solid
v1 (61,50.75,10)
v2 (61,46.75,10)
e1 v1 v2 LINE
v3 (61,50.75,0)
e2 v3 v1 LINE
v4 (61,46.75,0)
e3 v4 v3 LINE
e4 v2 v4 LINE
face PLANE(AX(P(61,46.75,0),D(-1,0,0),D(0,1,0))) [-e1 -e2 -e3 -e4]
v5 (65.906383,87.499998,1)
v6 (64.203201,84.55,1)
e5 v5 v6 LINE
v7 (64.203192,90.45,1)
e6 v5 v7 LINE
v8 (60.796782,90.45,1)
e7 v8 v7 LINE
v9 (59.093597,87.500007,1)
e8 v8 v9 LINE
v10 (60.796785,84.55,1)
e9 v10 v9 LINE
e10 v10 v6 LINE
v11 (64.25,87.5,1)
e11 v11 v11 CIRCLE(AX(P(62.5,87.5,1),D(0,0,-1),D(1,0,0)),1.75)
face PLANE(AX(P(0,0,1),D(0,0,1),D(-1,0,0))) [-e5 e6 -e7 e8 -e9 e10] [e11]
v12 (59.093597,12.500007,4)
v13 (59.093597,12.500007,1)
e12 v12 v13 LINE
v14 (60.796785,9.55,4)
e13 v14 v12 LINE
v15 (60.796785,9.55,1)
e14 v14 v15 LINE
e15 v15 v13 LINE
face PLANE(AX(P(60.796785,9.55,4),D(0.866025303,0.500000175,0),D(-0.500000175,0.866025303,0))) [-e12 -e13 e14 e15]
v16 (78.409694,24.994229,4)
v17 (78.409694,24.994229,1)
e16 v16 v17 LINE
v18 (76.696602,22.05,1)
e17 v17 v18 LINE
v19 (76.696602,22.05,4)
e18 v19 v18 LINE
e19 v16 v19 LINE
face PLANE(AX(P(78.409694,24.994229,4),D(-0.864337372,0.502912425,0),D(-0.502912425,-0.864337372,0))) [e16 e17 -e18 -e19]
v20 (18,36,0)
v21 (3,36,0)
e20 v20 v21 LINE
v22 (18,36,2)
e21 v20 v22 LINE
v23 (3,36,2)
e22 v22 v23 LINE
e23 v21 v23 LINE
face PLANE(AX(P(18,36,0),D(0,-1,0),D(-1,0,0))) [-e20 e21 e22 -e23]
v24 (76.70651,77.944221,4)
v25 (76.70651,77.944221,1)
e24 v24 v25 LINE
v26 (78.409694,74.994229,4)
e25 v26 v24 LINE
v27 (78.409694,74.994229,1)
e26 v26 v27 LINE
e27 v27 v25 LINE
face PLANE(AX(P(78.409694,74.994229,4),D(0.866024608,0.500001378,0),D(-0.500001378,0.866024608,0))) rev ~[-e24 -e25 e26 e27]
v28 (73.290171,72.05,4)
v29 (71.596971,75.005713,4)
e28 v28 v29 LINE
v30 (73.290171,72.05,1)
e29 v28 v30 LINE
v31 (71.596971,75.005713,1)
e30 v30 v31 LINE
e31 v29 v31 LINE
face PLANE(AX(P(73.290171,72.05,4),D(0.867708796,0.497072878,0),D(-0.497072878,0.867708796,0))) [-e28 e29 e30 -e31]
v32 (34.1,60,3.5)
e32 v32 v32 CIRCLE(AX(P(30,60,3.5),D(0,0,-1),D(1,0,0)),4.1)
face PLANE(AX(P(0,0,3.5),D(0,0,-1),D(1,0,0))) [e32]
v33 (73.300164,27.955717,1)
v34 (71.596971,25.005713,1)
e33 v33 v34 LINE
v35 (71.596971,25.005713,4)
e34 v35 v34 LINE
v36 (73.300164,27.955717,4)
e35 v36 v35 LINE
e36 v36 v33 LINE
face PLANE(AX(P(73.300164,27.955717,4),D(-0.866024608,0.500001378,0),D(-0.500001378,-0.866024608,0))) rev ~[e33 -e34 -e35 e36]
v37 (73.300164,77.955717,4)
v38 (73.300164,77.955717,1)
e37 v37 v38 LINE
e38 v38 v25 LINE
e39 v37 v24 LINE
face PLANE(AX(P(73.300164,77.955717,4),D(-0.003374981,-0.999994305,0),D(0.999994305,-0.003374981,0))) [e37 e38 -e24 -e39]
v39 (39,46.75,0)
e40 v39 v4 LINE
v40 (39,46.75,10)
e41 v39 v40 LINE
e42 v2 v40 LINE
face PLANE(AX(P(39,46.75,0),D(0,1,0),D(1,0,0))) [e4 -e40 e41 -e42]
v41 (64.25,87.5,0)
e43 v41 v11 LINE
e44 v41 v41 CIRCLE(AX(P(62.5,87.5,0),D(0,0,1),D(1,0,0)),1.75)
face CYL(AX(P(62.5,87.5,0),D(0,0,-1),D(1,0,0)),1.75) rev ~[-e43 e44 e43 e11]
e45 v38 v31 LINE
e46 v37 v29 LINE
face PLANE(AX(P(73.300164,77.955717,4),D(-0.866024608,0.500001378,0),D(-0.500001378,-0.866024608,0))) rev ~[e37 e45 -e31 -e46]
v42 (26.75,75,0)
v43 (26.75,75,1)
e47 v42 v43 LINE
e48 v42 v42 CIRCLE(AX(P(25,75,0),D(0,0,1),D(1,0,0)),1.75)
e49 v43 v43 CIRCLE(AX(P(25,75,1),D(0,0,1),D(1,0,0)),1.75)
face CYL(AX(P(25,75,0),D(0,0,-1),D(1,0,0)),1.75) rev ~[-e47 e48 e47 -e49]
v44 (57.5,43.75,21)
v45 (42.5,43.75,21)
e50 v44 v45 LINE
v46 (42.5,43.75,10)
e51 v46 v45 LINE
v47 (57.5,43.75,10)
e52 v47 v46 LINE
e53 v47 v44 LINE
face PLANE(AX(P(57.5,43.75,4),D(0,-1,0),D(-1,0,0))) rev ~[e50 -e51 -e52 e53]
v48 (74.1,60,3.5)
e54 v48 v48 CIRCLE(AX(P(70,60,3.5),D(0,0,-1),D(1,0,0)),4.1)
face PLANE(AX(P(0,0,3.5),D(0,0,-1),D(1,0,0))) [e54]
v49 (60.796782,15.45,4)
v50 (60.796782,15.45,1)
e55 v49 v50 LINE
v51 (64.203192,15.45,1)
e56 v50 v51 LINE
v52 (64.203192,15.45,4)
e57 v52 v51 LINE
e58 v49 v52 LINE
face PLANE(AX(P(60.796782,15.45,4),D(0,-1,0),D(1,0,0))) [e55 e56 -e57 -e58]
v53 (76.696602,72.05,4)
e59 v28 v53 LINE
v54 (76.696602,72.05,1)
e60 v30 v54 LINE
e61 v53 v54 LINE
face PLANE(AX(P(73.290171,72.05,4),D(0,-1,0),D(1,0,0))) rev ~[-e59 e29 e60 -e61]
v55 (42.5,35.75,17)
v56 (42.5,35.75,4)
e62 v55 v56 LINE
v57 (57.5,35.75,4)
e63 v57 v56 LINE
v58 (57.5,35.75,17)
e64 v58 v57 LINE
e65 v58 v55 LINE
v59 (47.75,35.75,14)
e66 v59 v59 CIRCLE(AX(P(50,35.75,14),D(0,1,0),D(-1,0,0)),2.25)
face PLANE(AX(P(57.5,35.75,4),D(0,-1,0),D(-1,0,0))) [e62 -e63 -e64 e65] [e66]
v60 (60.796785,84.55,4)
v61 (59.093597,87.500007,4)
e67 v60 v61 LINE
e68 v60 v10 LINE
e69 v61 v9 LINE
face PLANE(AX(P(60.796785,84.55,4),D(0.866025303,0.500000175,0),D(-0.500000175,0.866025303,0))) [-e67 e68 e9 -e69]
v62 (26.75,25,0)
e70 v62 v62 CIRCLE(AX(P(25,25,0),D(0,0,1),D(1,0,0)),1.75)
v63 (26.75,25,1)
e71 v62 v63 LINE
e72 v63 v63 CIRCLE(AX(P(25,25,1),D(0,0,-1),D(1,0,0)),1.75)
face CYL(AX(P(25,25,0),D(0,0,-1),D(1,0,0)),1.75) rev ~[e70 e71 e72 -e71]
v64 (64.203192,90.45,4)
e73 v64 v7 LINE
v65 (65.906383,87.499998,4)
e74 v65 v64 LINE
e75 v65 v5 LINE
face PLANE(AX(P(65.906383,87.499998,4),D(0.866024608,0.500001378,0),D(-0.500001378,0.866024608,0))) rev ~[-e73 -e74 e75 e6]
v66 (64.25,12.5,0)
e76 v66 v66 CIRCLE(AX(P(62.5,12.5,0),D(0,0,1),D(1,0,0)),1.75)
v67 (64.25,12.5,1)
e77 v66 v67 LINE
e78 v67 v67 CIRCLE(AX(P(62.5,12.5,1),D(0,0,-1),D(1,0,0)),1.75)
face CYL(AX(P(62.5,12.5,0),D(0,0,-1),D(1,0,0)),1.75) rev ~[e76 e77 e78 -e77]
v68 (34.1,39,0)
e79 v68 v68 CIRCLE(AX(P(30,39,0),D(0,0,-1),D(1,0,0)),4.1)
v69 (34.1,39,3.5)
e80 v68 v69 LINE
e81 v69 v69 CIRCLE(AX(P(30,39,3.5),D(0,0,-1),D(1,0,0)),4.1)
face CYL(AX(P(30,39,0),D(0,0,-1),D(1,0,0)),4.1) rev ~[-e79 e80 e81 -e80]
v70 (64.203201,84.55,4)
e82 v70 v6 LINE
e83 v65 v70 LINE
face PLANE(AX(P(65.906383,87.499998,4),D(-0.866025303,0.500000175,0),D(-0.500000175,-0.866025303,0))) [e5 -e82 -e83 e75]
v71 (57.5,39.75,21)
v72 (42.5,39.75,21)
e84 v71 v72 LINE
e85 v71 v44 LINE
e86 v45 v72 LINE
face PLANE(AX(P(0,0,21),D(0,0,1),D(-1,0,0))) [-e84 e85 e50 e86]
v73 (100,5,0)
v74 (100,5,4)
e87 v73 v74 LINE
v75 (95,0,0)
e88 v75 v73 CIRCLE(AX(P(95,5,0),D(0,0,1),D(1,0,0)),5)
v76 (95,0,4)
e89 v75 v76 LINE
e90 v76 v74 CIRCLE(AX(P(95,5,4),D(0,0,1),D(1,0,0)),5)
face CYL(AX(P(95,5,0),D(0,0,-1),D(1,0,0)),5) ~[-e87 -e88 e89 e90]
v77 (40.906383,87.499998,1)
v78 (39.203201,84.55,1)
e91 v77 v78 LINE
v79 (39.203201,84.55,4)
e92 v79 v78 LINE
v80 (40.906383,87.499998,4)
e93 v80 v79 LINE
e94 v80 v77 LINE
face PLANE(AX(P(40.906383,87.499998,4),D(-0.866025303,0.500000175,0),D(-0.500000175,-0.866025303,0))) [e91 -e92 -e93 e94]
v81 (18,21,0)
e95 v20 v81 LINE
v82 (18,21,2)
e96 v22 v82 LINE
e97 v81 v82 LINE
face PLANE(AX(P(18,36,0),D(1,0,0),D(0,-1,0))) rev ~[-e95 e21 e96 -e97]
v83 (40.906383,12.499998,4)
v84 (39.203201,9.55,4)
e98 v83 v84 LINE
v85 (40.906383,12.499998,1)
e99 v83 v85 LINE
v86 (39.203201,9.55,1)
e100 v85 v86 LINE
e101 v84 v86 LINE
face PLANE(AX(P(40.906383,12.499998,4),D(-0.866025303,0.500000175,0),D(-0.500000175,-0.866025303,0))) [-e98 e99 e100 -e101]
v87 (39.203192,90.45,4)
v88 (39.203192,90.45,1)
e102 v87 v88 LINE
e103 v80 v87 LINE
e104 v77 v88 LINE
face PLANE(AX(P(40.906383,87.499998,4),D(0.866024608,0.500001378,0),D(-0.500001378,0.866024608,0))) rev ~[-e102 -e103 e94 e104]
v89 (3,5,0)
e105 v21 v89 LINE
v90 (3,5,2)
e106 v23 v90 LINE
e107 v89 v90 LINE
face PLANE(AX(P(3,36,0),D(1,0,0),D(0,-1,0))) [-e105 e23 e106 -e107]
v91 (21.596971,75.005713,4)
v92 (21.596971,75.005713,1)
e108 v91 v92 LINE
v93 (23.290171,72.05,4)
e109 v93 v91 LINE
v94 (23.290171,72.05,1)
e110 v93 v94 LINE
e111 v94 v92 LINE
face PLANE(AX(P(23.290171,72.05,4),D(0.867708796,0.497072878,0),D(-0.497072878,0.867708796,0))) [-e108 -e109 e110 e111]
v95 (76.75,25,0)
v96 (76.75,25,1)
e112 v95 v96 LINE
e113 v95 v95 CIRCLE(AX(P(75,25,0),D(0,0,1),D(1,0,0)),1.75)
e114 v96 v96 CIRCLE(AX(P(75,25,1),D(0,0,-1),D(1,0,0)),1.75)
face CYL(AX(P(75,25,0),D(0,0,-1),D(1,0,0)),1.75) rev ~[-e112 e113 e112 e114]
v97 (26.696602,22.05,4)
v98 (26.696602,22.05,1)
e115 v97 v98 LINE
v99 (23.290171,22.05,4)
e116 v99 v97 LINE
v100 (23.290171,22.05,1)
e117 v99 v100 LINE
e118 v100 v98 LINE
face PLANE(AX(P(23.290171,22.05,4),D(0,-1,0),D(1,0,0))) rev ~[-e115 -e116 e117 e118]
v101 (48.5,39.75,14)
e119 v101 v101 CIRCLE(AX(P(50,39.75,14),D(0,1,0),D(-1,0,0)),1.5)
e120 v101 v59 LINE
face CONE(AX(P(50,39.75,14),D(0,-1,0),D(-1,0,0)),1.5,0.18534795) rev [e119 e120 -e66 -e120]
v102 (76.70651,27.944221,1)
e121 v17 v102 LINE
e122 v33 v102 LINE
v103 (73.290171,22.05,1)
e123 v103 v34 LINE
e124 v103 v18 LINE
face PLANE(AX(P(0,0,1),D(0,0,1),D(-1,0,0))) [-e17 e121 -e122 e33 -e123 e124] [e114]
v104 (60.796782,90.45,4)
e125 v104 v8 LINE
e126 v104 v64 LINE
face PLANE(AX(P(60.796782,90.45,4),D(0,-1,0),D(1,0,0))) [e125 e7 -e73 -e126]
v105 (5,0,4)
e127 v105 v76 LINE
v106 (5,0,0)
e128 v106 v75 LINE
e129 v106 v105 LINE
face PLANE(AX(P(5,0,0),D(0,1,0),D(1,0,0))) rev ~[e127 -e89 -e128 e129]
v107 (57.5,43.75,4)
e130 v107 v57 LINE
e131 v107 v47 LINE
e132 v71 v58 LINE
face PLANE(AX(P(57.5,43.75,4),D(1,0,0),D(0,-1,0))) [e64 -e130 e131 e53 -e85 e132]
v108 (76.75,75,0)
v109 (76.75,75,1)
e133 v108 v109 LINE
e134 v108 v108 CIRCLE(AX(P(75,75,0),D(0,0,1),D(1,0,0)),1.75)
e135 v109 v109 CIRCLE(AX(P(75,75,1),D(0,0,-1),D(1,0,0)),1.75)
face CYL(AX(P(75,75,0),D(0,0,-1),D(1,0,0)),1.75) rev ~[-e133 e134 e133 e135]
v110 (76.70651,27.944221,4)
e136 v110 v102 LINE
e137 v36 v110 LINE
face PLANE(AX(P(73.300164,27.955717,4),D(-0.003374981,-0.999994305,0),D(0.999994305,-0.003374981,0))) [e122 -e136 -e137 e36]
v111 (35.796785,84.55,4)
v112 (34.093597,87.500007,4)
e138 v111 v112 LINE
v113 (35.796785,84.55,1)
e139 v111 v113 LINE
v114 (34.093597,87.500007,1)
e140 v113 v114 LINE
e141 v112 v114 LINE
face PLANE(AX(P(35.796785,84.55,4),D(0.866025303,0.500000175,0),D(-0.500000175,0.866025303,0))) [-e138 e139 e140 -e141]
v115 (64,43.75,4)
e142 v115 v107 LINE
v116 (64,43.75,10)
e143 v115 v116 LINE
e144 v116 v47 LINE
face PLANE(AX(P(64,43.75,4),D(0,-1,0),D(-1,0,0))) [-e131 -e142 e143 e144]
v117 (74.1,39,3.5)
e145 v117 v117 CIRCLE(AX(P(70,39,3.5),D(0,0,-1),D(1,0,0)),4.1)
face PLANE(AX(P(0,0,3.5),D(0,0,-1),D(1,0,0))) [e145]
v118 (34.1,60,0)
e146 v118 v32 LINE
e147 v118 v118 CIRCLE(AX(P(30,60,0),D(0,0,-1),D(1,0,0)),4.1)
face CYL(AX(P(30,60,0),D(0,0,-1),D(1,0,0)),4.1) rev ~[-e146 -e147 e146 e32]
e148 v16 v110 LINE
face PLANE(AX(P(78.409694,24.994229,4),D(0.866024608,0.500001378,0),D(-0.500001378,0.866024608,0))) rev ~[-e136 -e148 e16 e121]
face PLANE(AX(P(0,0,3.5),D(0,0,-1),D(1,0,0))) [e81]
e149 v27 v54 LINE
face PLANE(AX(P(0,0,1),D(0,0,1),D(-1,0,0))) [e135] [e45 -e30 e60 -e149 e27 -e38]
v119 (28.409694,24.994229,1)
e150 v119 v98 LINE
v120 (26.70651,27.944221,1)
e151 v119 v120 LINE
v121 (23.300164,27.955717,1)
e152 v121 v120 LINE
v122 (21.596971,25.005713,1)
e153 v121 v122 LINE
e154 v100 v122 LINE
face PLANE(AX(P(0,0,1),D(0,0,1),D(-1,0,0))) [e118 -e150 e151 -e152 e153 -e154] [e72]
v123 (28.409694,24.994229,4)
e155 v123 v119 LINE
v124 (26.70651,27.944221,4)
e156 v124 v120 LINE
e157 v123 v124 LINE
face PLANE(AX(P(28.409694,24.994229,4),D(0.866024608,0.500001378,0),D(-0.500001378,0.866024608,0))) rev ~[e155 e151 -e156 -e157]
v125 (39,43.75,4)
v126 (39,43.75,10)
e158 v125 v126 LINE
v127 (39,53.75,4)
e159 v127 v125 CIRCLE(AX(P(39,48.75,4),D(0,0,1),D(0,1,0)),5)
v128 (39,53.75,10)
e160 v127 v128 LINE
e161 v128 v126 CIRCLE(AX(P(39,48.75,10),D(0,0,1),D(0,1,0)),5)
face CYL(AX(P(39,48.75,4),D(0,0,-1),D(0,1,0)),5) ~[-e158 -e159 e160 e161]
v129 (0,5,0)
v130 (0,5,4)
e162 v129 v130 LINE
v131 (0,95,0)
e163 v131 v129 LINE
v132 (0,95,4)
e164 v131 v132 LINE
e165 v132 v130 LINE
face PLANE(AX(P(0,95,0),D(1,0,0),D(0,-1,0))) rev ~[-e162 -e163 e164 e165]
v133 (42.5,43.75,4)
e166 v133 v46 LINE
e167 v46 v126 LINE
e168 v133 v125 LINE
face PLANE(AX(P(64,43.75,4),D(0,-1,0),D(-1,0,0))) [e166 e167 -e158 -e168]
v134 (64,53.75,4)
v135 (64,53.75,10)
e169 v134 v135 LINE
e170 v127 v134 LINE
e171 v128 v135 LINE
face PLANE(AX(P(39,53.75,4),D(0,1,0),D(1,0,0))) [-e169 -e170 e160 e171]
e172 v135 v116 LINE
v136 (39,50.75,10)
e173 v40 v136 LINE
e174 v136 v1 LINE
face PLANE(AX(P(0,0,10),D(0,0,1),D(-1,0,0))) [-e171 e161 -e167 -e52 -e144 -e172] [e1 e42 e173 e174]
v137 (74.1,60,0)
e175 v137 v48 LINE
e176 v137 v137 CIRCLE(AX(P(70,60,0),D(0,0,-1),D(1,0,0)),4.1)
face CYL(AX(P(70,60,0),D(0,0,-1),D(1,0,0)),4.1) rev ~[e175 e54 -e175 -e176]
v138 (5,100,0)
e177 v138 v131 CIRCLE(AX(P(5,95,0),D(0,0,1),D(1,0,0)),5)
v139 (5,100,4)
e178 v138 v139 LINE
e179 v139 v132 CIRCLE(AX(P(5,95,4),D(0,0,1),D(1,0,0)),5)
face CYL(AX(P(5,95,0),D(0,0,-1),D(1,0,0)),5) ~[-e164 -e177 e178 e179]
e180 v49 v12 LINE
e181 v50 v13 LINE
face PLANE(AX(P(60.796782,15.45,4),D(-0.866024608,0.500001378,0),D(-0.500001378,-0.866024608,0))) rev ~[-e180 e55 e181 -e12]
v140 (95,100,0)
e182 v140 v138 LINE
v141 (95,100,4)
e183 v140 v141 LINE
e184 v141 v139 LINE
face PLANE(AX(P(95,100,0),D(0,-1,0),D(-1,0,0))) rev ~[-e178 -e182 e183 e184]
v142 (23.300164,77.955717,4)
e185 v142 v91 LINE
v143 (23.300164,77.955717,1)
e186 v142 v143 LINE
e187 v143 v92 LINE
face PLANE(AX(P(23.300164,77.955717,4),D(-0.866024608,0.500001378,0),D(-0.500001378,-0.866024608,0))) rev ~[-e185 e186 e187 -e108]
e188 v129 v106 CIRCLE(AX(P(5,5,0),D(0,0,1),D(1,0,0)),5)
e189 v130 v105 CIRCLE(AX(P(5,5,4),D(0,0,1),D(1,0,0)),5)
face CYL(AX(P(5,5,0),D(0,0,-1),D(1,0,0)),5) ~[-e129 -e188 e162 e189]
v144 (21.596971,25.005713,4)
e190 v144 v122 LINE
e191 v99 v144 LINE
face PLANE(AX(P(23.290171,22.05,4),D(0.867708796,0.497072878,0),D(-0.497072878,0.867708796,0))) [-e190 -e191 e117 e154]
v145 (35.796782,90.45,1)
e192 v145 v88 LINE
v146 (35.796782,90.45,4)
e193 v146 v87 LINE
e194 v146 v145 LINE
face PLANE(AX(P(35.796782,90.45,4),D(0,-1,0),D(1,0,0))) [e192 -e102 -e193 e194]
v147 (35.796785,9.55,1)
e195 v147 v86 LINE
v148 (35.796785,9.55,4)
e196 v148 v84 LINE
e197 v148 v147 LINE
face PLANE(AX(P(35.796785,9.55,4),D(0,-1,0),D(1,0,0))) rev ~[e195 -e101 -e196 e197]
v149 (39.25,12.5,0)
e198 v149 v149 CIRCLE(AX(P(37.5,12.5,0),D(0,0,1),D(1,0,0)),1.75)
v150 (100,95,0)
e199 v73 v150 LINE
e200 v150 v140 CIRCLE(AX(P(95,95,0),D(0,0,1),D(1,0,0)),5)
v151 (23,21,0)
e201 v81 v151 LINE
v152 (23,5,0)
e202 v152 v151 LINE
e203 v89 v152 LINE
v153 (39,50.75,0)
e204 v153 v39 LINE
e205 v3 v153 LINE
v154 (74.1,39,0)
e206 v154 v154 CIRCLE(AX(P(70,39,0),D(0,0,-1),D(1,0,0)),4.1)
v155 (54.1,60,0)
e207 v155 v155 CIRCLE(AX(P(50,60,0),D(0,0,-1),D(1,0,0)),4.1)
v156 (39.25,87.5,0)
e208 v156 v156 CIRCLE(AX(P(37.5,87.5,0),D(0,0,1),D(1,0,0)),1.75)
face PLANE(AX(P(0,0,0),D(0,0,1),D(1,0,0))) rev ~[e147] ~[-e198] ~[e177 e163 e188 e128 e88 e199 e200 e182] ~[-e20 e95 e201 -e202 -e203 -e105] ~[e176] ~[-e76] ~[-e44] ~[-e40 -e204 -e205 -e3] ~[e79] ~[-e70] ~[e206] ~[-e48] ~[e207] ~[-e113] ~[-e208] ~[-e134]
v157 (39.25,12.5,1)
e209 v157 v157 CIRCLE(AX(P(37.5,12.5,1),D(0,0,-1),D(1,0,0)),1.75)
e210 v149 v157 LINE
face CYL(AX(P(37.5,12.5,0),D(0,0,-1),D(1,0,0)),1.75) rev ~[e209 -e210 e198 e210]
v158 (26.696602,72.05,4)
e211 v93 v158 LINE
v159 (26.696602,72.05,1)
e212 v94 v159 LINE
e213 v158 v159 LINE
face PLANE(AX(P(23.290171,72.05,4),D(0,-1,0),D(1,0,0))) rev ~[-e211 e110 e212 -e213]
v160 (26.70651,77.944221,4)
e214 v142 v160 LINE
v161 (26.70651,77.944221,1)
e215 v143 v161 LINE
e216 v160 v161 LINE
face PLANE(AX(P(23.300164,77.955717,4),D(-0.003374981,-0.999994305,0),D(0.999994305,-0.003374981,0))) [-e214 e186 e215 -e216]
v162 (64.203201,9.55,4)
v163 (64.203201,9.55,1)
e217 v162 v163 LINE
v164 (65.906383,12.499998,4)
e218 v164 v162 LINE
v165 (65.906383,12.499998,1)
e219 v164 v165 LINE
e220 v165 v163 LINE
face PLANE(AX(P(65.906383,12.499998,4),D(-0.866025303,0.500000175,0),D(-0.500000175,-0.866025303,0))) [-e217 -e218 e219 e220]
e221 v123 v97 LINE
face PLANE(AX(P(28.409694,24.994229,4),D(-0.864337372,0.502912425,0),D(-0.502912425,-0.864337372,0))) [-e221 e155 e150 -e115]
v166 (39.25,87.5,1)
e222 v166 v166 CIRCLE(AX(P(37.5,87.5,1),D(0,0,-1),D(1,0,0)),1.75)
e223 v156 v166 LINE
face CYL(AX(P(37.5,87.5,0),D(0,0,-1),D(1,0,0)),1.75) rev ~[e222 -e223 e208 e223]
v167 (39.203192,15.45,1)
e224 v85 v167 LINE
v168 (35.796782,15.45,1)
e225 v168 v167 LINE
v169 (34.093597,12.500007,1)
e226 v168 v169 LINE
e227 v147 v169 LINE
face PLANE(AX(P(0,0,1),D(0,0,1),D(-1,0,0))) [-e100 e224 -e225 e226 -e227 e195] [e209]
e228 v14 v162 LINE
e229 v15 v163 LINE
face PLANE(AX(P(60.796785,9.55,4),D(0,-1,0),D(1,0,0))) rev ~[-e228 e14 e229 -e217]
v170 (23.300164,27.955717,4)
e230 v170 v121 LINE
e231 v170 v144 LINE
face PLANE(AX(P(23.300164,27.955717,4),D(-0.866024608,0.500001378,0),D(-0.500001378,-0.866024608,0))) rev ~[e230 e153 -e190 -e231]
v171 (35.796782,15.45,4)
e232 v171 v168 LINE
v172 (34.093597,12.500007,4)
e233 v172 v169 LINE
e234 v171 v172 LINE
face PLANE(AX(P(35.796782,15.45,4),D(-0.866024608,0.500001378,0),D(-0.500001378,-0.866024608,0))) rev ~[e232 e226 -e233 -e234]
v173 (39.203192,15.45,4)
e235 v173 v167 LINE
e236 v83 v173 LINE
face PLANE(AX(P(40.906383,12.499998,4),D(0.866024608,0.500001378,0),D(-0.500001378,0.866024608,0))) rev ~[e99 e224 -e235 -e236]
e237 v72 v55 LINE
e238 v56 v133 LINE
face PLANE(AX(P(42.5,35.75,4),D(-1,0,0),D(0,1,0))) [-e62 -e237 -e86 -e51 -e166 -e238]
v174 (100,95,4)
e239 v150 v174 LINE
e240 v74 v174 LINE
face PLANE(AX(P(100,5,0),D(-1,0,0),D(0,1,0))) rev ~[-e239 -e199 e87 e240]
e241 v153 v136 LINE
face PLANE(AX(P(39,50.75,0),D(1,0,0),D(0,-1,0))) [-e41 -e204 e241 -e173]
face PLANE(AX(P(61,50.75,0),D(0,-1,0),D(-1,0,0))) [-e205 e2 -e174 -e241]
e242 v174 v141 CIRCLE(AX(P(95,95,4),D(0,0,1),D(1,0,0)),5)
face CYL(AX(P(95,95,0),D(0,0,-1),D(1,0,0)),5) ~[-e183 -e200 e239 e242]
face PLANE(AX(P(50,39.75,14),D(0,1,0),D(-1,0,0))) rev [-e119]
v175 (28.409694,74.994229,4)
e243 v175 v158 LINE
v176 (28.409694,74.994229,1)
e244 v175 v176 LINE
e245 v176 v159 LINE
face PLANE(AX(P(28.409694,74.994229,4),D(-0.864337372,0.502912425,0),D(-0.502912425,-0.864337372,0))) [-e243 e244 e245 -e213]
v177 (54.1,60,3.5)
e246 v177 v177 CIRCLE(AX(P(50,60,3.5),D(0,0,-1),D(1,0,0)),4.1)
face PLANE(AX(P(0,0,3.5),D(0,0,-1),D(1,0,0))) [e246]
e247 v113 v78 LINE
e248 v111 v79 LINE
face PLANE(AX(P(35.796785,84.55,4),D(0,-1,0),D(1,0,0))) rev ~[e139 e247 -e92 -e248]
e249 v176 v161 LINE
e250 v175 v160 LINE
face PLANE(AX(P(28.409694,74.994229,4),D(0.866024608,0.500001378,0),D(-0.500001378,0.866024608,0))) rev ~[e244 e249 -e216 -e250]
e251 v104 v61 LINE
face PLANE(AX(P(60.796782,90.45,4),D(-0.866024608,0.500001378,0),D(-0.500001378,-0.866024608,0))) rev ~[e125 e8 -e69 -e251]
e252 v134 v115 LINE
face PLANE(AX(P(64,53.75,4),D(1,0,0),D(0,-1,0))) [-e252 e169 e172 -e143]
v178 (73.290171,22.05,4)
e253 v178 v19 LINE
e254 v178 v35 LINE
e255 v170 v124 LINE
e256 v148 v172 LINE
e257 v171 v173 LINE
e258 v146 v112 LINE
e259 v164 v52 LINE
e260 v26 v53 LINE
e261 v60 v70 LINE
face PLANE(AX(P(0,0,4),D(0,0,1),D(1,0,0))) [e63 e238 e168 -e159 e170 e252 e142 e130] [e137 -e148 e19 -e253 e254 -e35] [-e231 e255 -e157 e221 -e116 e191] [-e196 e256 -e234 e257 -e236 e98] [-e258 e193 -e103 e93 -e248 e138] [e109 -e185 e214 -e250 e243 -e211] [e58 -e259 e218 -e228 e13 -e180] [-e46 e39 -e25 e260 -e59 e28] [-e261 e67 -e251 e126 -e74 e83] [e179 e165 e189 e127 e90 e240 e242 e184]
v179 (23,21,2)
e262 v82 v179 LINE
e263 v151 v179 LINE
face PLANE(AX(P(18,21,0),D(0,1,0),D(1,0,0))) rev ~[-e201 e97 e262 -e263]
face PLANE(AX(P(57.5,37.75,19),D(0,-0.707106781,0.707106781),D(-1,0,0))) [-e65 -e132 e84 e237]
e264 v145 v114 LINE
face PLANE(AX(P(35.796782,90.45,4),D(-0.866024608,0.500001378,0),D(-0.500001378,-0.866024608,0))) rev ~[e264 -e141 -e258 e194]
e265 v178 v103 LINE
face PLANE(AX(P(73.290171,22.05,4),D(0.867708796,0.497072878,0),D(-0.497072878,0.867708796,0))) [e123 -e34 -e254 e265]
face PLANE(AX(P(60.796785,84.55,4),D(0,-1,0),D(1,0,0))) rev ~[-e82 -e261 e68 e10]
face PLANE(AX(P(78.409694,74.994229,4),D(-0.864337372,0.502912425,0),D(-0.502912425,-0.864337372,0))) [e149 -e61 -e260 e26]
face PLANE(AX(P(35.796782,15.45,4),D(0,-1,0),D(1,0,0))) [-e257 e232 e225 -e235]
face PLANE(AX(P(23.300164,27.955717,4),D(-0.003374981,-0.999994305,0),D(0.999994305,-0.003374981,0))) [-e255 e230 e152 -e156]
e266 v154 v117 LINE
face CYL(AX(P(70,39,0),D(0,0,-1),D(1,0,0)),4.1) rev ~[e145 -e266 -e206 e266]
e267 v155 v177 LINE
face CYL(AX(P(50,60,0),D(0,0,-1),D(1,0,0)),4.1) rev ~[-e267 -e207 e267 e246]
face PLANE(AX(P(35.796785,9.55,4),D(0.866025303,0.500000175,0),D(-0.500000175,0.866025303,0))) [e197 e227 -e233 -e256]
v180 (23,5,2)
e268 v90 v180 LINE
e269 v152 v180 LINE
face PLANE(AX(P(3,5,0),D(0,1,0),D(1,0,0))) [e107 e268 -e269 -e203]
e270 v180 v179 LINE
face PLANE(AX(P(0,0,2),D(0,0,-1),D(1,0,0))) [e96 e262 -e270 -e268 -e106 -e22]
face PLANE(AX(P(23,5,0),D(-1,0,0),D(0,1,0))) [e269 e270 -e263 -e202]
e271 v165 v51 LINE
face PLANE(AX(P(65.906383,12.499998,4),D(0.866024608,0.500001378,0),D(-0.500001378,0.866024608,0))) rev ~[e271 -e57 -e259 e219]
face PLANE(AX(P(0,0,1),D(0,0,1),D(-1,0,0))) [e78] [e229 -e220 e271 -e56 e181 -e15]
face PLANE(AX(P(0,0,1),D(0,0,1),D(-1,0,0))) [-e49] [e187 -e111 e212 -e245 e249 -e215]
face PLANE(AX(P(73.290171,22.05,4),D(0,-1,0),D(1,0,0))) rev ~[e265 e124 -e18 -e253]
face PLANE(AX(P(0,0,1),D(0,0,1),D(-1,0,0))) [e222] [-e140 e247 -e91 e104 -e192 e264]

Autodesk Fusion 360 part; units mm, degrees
sketch "Skizze1" plane through (0, 0, 0) normal (0, 0, 1) x (1, 0, 0)
  line L0 (0, 0) -> (100, 0)
  line L1 (100, 0) -> (100, 100)
  line L2 (100, 100) -> (0, 100)
  line L3 (0, 100) -> (0, 0)
  circle A0 centre (5, 95) radius 5
  circle A1 centre (5, 5) radius 5
  circle A2 centre (95, 5) radius 5
  circle A3 centre (95, 95) radius 5
  line L4 (39, 46.75) -> (61, 46.75)
  line L5 (61, 46.75) -> (61, 50.75)
  line L6 (61, 50.75) -> (39, 50.75)
  line L7 (39, 50.75) -> (39, 46.75)
  line L8 (39, 48.75) -> (61, 48.75)
  line L9 (50, 50.75) -> (50, 46.75)
  dimension "d1" = 100
  dimension "d2" = 100
  dimension "d5" = 22
  dimension "d6" = 4
  dimension "d7" = 50
  dimension "d8" = 48.75
extrude "Extrusion1" add sketch "Skizze1" along normal blind 4 contours L0 L1 L2 L3 A0 A1 A2 A3 | A1 | A2 | A0 | A3
sketch "Skizze2" plane through (0, 0, 4) normal (0, 0, 1) x (-1, 0, 0)
  line L0 (-39, -46.75) -> (-39, -50.75)
  line L1 (-39, -50.75) -> (-61, -50.75)
  line L2 (-61, -50.75) -> (-61, -46.75)
  line L3 (-61, -46.75) -> (-39, -46.75)
  arc A0 (-100, -95) -> (-95, -100) centre (-95, -95) ccw
  line L4 (-95, -100) -> (-5, -100)
  arc A1 (-5, -100) -> (0, -95) centre (-5, -95) ccw
  line L5 (0, -95) -> (0, -5)
  arc A2 (0, -5) -> (-5, 0) centre (-5, -5) ccw
  line L6 (-5, 0) -> (-95, 0)
  arc A3 (-95, 0) -> (-100, -5) centre (-95, -5) ccw
  line L7 (-100, -5) -> (-100, -95)
  line L8 (-39, -53.75) -> (-64, -53.75)
  line L9 (-64, -53.75) -> (-64, -43.75)
  line L10 (-64, -43.75) -> (-39, -43.75)
  line L11 (-39, -43.75) -> (-39, -53.75)
  line L12 (-39, -48.75) -> (-42, -48.75)
  arc A4 (-39, -53.75) -> (-39, -43.75) centre (-39, -48.75) ccw
  dimension "d9" = 3
  dimension "d10" = 3
  dimension "d11" = 3
extrude "Extrusion2" add sketch "Skizze2" along normal blind 6 contours L0 L11 A4 | L1 L2 L3 L8 L9 L10 L11
sketch "Skizze3" plane through (0, 0, 0) normal (0, 0, -1) x (1, 0, 0)
  line L0 (39, -50.75) -> (39, -46.75)
  line L1 (39, -46.75) -> (61, -46.75)
  line L2 (61, -46.75) -> (61, -50.75)
  line L3 (61, -50.75) -> (39, -50.75)
  arc A0 (95, -100) -> (100, -95) centre (95, -95) ccw
  line L4 (100, -95) -> (100, -5)
  arc A1 (100, -5) -> (95, 0) centre (95, -5) ccw
  line L5 (95, 0) -> (5, 0)
  arc A2 (5, 0) -> (0, -5) centre (5, -5) ccw
  line L6 (0, -5) -> (0, -95)
  arc A3 (0, -95) -> (5, -100) centre (5, -95) ccw
  line L7 (5, -100) -> (95, -100)
  line L8 (23, -36) -> (3, -36)
  line L9 (3, -36) -> (3, -5)
  line L10 (3, -5) -> (23, -5)
  line L11 (23, -5) -> (23, -36)
  line L12 (23, -36) -> (18, -36)
  line L13 (18, -36) -> (18, -21)
  line L14 (18, -21) -> (23, -21)
  line L15 (23, -21) -> (23, -36)
  dimension "d15" = 20
  dimension "d16" = 31
  dimension "d17" = 5
  dimension "d18" = 3
  dimension "d62" = 5
  dimension "d63" = 15
extrude "Extrusion3" cut sketch "Skizze3" against normal blind 2 contours L8 L9 L10 L11 L13 L14
sketch "Skizze4" plane through (0, 0, 0) normal (0, 0, -1) x (1, 0, 0)
  line L0 (3, -36) -> (3, -5)
  line L1 (3, -5) -> (23, -5)
  line L2 (23, -5) -> (23, -21)
  line L3 (18, -36) -> (3, -36)
  line L4 (39, -50.75) -> (39, -46.75)
  line L5 (39, -46.75) -> (61, -46.75)
  line L6 (61, -46.75) -> (61, -50.75)
  line L7 (61, -50.75) -> (39, -50.75)
  arc A0 (95, -100) -> (100, -95) centre (95, -95) ccw
  line L8 (100, -95) -> (100, -5)
  arc A1 (100, -5) -> (95, 0) centre (95, -5) ccw
  line L9 (95, 0) -> (5, 0)
  arc A2 (5, 0) -> (0, -5) centre (5, -5) ccw
  line L10 (0, -5) -> (0, -95)
  arc A3 (0, -95) -> (5, -100) centre (5, -95) ccw
  line L11 (5, -100) -> (95, -100)
  line L12 (25, -25) -> (75, -25)
  line L13 (75, -25) -> (75, -75)
  line L14 (75, -75) -> (25, -75)
  line L15 (25, -75) -> (25, -25)
  circle A4 centre (25, -25) radius 1.75
  circle A5 centre (75, -25) radius 1.75
  circle A6 centre (75, -75) radius 1.75
  circle A7 centre (25, -75) radius 1.75
  line L16 (37.5, -12.5) -> (62.5, -12.5)
  line L17 (62.5, -12.5) -> (62.5, -87.5)
  line L18 (62.5, -87.5) -> (37.5, -87.5)
  line L19 (37.5, -87.5) -> (37.5, -12.5)
  circle A8 centre (37.5, -12.5) radius 1.75
  circle A9 centre (62.5, -12.5) radius 1.75
  circle A10 centre (62.5, -87.5) radius 1.75
  circle A11 centre (37.5, -87.5) radius 1.75
  line L20 (23, -21) -> (18, -21)
  line L21 (18, -21) -> (18, -36)
  dimension "d21" = 50
  dimension "d22" = 50
  dimension "d23" = 25
  dimension "d24" = 25
  dimension "d25" = 3.5
  dimension "d26" = 3.5
  dimension "d27" = 3.5
  dimension "d28" = 3.5
  dimension "d29" = 25
  dimension "d30" = 75
  dimension "d31" = 12.5
  dimension "d32" = 37.5
  dimension "d33" = 3.5
  dimension "d34" = 3.5
  dimension "d35" = 3.5
  dimension "d36" = 3.5
extrude "Extrusion4" cut sketch "Skizze4" against normal blind 4 contours L12 L15 A4 | L12 L15 A4 | L14 L15 A7 | L14 L15 A7 | L16 L19 A8 | L16 L19 A8 | L12 L13 A5 | L12 L13 A5 | L16 L17 A9 | L16 L17 A9 | L18 L19 A11 | L18 L19 A11 | L13 L14 A6 | L13 L14 A6 | L17 L18 A10 | L17 L18 A10
sketch "Skizze5" plane through (0, 0, 4) normal (0, 0, 1) x (-1, 0, 0)
  circle A0 centre (-37.5, -87.5) radius 1.75
  circle A1 centre (-25, -75) radius 1.75
  line L0 (-64, -53.75) -> (-64, -43.75)
  line L1 (-64, -43.75) -> (-39, -43.75)
  arc A2 (-39, -53.75) -> (-39, -43.75) centre (-39, -48.75) ccw
  line L2 (-39, -53.75) -> (-64, -53.75)
  arc A3 (-100, -95) -> (-95, -100) centre (-95, -95) ccw
  line L3 (-95, -100) -> (-5, -100)
  arc A4 (-5, -100) -> (0, -95) centre (-5, -95) ccw
  line L4 (0, -95) -> (0, -5)
  arc A5 (0, -5) -> (-5, 0) centre (-5, -5) ccw
  line L5 (-5, 0) -> (-95, 0)
  arc A6 (-95, 0) -> (-100, -5) centre (-95, -5) ccw
  line L6 (-100, -5) -> (-100, -95)
  line L7 (-34, -90.45) -> (-42, -90.45)
  line L8 (-34, -84.55) -> (-43, -84.55)
  line L9 (-20.1646, -77.9663) -> (-28.1646, -77.9393)
  line L10 (-20.1651, -72.05) -> (-29.1651, -72.05)
  line L11 (0, -50) -> (-100, -50)
  line L12 (-50, -100) -> (-50, 0)
  circle A7 centre (-50, -50) radius 3
  line L13 (-36.6952, -82.9939) -> (-32.6952, -89.9221)
  line L14 (-41.8048, -85.9439) -> (-37.3048, -93.7381)
  line L15 (-41.8048, -89.0561) -> (-37.8048, -82.1279)
  line L16 (-36.6952, -92.0061) -> (-32.1952, -84.2119)
  line L17 (-24.8488, -69.3292) -> (-20.8722, -76.2709)
  line L18 (-29.9722, -72.2879) -> (-25.4722, -80.0821)
  line L19 (-29.9866, -77.7044) -> (-25.9633, -70.7897)
  line L20 (-24.8627, -80.6621) -> (-20.3627, -72.8679)
  line L21 (-79.9722, -72.2879) -> (-75.4722, -80.0821)
  line L22 (-70.1646, -77.9663) -> (-78.1646, -77.9393)
  line L23 (-74.8627, -80.6621) -> (-70.3627, -72.8679)
  line L24 (-74.8488, -69.3292) -> (-70.8722, -76.2709)
  line L25 (-70.1651, -72.05) -> (-79.1651, -72.05)
  line L26 (-79.9866, -77.7044) -> (-75.9633, -70.7897)
  line L27 (-29.9722, -22.2879) -> (-25.4722, -30.0821)
  line L28 (-20.1646, -27.9663) -> (-28.1646, -27.9393)
  line L29 (-24.8627, -30.6621) -> (-20.3627, -22.8679)
  line L30 (-24.8488, -19.3292) -> (-20.8722, -26.2709)
  line L31 (-20.1651, -22.05) -> (-29.1651, -22.05)
  line L32 (-29.9866, -27.7044) -> (-25.9633, -20.7897)
  line L33 (-79.9722, -22.2879) -> (-75.4722, -30.0821)
  line L34 (-70.1646, -27.9663) -> (-78.1646, -27.9393)
  line L35 (-74.8627, -30.6621) -> (-70.3627, -22.8679)
  line L36 (-74.8488, -19.3292) -> (-70.8722, -26.2709)
  line L37 (-70.1651, -22.05) -> (-79.1651, -22.05)
  line L38 (-79.9866, -27.7044) -> (-75.9633, -20.7897)
  line L39 (-59, -84.55) -> (-68, -84.55)
  line L40 (-61.6952, -82.9939) -> (-57.6952, -89.9221)
  line L41 (-61.6952, -92.0061) -> (-57.1952, -84.2119)
  line L42 (-59, -90.45) -> (-67, -90.45)
  line L43 (-66.8048, -85.9439) -> (-62.3048, -93.7381)
  line L44 (-66.8048, -89.0561) -> (-62.8048, -82.1279)
  line L45 (-34, -9.55) -> (-43, -9.55)
  line L46 (-36.6952, -7.9939) -> (-32.6952, -14.9221)
  line L47 (-36.6952, -17.0061) -> (-32.1952, -9.2119)
  line L48 (-34, -15.45) -> (-42, -15.45)
  line L49 (-41.8048, -10.9439) -> (-37.3048, -18.7381)
  line L50 (-41.8048, -14.0561) -> (-37.8048, -7.1279)
  line L51 (-59, -9.55) -> (-68, -9.55)
  line L52 (-61.6952, -7.9939) -> (-57.6952, -14.9221)
  line L53 (-61.6952, -17.0061) -> (-57.1952, -9.2119)
  line L54 (-59, -15.45) -> (-67, -15.45)
  line L55 (-66.8048, -10.9439) -> (-62.3048, -18.7381)
  line L56 (-66.8048, -14.0561) -> (-62.8048, -7.1279)
  dimension "d40" = 2.95
  dimension "d41" = 2.95
  dimension "d42" = 2.95
  dimension "d43" = 2.95
  dimension "d78" = 360
  dimension "d80" = 360
  dimension "d83" = -50
  dimension "d84" = 50
  dimension "d87" = -25
  dimension "d88" = 75
extrude "Extrusion5" cut sketch "Skizze5" against normal blind 3 contours A0 | L7 L8 L13 L14 L15 L16 | L9 L10 L17 L18 L19 L20 | L21 L22 L23 L24 L25 L26 | L27 L28 L29 L30 L31 L32 | L33 L34 L35 L36 L37 L38 | L39 L40 L41 L42 L43 L44 | L45 L46 L47 L48 L49 L50 | L51 L52 L53 L54 L55 L56
sketch "Skizze6" plane through (0, 0, 4) normal (0, 0, 1) x (-1, 0, 0)
  line L0 (-26.6966, -72.05) -> (-23.2902, -72.05)
  line L1 (-23.3001, -77.9557) -> (-26.7065, -77.9443)
  line L2 (-39.2032, -84.55) -> (-35.7968, -84.55)
  line L3 (-35.7968, -90.45) -> (-39.2032, -90.45)
  line L4 (-64, -53.75) -> (-64, -43.75)
  line L5 (-64, -43.75) -> (-39, -43.75)
  arc A0 (-39, -53.75) -> (-39, -43.75) centre (-39, -48.75) ccw
  line L6 (-39, -53.75) -> (-64, -53.75)
  arc A1 (-100, -95) -> (-95, -100) centre (-95, -95) ccw
  line L7 (-95, -100) -> (-5, -100)
  arc A2 (-5, -100) -> (0, -95) centre (-5, -95) ccw
  line L8 (0, -95) -> (0, -5)
  arc A3 (0, -5) -> (-5, 0) centre (-5, -5) ccw
  line L9 (-5, 0) -> (-95, 0)
  arc A4 (-95, 0) -> (-100, -5) centre (-95, -5) ccw
  line L10 (-100, -5) -> (-100, -95)
  line L11 (-42.5, -43.75) -> (-57.5, -43.75)
  line L12 (-57.5, -43.75) -> (-57.5, -35.75)
  line L13 (-57.5, -35.75) -> (-42.5, -35.75)
  line L14 (-42.5, -35.75) -> (-42.5, -43.75)
  line L15 (-28.4097, -74.9943) -> (-26.6966, -72.05)
  line L16 (-23.2902, -72.05) -> (-21.5969, -75.0057)
  line L17 (-21.5969, -75.0057) -> (-23.3001, -77.9557)
  line L18 (-26.7065, -77.9443) -> (-28.4097, -74.9943)
  line L19 (-40.9064, -87.5) -> (-39.2032, -84.55)
  line L20 (-35.7968, -84.55) -> (-34.0936, -87.5)
  line L21 (-34.0936, -87.5) -> (-35.7968, -90.45)
  line L22 (-39.2032, -90.45) -> (-40.9064, -87.5)
  line L23 (-28.4097, -24.9943) -> (-26.6966, -22.05)
  line L24 (-26.6966, -22.05) -> (-23.2902, -22.05)
  line L25 (-23.2902, -22.05) -> (-21.5969, -25.0057)
  line L26 (-21.5969, -25.0057) -> (-23.3001, -27.9557)
  line L27 (-23.3001, -27.9557) -> (-26.7065, -27.9443)
  line L28 (-26.7065, -27.9443) -> (-28.4097, -24.9943)
  line L29 (-65.9064, -87.5) -> (-64.2032, -84.55)
  line L30 (-64.2032, -84.55) -> (-60.7968, -84.55)
  line L31 (-60.7968, -84.55) -> (-59.0936, -87.5)
  line L32 (-59.0936, -87.5) -> (-60.7968, -90.45)
  line L33 (-60.7968, -90.45) -> (-64.2032, -90.45)
  line L34 (-64.2032, -90.45) -> (-65.9064, -87.5)
  line L35 (-40.9064, -12.5) -> (-39.2032, -9.55)
  line L36 (-39.2032, -9.55) -> (-35.7968, -9.55)
  line L37 (-35.7968, -9.55) -> (-34.0936, -12.5)
  line L38 (-34.0936, -12.5) -> (-35.7968, -15.45)
  line L39 (-35.7968, -15.45) -> (-39.2032, -15.45)
  line L40 (-39.2032, -15.45) -> (-40.9064, -12.5)
  line L41 (-78.4097, -24.9943) -> (-76.6966, -22.05)
  line L42 (-76.6966, -22.05) -> (-73.2902, -22.05)
  line L43 (-73.2902, -22.05) -> (-71.5969, -25.0057)
  line L44 (-71.5969, -25.0057) -> (-73.3001, -27.9557)
  line L45 (-73.3001, -27.9557) -> (-76.7065, -27.9443)
  line L46 (-76.7065, -27.9443) -> (-78.4097, -24.9943)
  line L47 (-78.4097, -74.9943) -> (-76.6966, -72.05)
  line L48 (-76.6966, -72.05) -> (-73.2902, -72.05)
  line L49 (-73.2902, -72.05) -> (-71.5969, -75.0057)
  line L50 (-71.5969, -75.0057) -> (-73.3001, -77.9557)
  line L51 (-73.3001, -77.9557) -> (-76.7065, -77.9443)
  line L52 (-76.7065, -77.9443) -> (-78.4097, -74.9943)
  line L53 (-65.9064, -12.5) -> (-64.2032, -9.55)
  line L54 (-64.2032, -9.55) -> (-60.7968, -9.55)
  line L55 (-60.7968, -9.55) -> (-59.0936, -12.5)
  line L56 (-59.0936, -12.5) -> (-60.7968, -15.45)
  line L57 (-60.7968, -15.45) -> (-64.2032, -15.45)
  line L58 (-64.2032, -15.45) -> (-65.9064, -12.5)
  dimension "d64" = 15
  dimension "d65" = 42.5
  dimension "d66" = 8
extrude "Extrusion6" add sketch "Skizze6" along normal blind 10 contours L5 L11 L12 L13 L14
sketch "Skizze8" plane through (0, 0, 14) normal (0, 0, 1) x (-1, 0, 0)
  line L0 (-42.5, -35.75) -> (-57.5, -35.75)
  line L1 (-57.5, -35.75) -> (-57.5, -43.75)
  line L2 (-57.5, -43.75) -> (-42.5, -43.75)
  line L3 (-42.5, -43.75) -> (-42.5, -35.75)
  line L4 (-50, -35.75) -> (-50, -39.75)
  line L5 (-50, -39.75) -> (-48.5, -39.75)
  line L6 (-48.5, -39.75) -> (-47.75, -35.75)
  dimension "d70" = 4
  dimension "d71" = 1.5
  dimension "d72" = 2.25
extrude "Extrusion7" add sketch "Skizze8" along normal blind 7
revolve "Drehen1" cut sketch "Skizze8" angle 360 about axis through (50, 35.75, 14) along (0, 1, 0) contours L0 L4 L5 L6
chamfer "Fase1" distance 4 angle 45 1 edges at (50, 35.75, 21)
sketch "Skizze9" plane through (0, 0, 0) normal (0, 0, -1) x (1, 0, 0)
  circle A0 centre (37.5, -87.5) radius 1.75
  circle A1 centre (62.5, -12.5) radius 1.75
  circle A2 centre (75, -25) radius 1.75
  circle A3 centre (25, -75) radius 1.75
  circle A4 centre (62.5, -87.5) radius 1.75
  circle A5 centre (37.5, -12.5) radius 1.75
  circle A6 centre (75, -75) radius 1.75
  circle A7 centre (25, -25) radius 1.75
  line L0 (23, -21) -> (18, -21)
  line L1 (18, -21) -> (18, -36)
  line L2 (18, -36) -> (3, -36)
  line L3 (3, -36) -> (3, -5)
  line L4 (3, -5) -> (23, -5)
  line L5 (23, -5) -> (23, -21)
  line L6 (39, -50.75) -> (39, -46.75)
  line L7 (39, -46.75) -> (61, -46.75)
  line L8 (61, -46.75) -> (61, -50.75)
  line L9 (61, -50.75) -> (39, -50.75)
  arc A8 (95, -100) -> (100, -95) centre (95, -95) ccw
  line L10 (100, -95) -> (100, -5)
  arc A9 (100, -5) -> (95, 0) centre (95, -5) ccw
  line L11 (95, 0) -> (5, 0)
  arc A10 (5, 0) -> (0, -5) centre (5, -5) ccw
  line L12 (0, -5) -> (0, -95)
  arc A11 (0, -95) -> (5, -100) centre (5, -95) ccw
  line L13 (5, -100) -> (95, -100)
  circle A12 centre (30, -39) radius 4.1
  circle A13 centre (70, -39) radius 4.1
  circle A14 centre (70, -60) radius 4.1
  circle A15 centre (30, -60) radius 4.1
  circle A16 centre (50, -60) radius 4.1
  dimension "d89" = 8.2
  dimension "d90" = 8.2
  dimension "d91" = 8.2
  dimension "d92" = 8.2
  dimension "d93" = 8.2
  dimension "d94" = 40
  dimension "d95" = 40
  dimension "d96" = 40
  dimension "d97" = 39
  dimension "d98" = 39
  dimension "d99" = 30
  dimension "d100" = 30
  dimension "d101" = 30
  dimension "d102" = 50
  dimension "d103" = 30
extrude "Extrusion8" cut sketch "Skizze9" against normal blind 3.5 contours A12 | A13 | A14 | A15 | A16
equation "d8 = 50 mm - 1.25 mm"
equation "d65 = ( ( 100 - 15 ) / 2 ) * 1 mm"
